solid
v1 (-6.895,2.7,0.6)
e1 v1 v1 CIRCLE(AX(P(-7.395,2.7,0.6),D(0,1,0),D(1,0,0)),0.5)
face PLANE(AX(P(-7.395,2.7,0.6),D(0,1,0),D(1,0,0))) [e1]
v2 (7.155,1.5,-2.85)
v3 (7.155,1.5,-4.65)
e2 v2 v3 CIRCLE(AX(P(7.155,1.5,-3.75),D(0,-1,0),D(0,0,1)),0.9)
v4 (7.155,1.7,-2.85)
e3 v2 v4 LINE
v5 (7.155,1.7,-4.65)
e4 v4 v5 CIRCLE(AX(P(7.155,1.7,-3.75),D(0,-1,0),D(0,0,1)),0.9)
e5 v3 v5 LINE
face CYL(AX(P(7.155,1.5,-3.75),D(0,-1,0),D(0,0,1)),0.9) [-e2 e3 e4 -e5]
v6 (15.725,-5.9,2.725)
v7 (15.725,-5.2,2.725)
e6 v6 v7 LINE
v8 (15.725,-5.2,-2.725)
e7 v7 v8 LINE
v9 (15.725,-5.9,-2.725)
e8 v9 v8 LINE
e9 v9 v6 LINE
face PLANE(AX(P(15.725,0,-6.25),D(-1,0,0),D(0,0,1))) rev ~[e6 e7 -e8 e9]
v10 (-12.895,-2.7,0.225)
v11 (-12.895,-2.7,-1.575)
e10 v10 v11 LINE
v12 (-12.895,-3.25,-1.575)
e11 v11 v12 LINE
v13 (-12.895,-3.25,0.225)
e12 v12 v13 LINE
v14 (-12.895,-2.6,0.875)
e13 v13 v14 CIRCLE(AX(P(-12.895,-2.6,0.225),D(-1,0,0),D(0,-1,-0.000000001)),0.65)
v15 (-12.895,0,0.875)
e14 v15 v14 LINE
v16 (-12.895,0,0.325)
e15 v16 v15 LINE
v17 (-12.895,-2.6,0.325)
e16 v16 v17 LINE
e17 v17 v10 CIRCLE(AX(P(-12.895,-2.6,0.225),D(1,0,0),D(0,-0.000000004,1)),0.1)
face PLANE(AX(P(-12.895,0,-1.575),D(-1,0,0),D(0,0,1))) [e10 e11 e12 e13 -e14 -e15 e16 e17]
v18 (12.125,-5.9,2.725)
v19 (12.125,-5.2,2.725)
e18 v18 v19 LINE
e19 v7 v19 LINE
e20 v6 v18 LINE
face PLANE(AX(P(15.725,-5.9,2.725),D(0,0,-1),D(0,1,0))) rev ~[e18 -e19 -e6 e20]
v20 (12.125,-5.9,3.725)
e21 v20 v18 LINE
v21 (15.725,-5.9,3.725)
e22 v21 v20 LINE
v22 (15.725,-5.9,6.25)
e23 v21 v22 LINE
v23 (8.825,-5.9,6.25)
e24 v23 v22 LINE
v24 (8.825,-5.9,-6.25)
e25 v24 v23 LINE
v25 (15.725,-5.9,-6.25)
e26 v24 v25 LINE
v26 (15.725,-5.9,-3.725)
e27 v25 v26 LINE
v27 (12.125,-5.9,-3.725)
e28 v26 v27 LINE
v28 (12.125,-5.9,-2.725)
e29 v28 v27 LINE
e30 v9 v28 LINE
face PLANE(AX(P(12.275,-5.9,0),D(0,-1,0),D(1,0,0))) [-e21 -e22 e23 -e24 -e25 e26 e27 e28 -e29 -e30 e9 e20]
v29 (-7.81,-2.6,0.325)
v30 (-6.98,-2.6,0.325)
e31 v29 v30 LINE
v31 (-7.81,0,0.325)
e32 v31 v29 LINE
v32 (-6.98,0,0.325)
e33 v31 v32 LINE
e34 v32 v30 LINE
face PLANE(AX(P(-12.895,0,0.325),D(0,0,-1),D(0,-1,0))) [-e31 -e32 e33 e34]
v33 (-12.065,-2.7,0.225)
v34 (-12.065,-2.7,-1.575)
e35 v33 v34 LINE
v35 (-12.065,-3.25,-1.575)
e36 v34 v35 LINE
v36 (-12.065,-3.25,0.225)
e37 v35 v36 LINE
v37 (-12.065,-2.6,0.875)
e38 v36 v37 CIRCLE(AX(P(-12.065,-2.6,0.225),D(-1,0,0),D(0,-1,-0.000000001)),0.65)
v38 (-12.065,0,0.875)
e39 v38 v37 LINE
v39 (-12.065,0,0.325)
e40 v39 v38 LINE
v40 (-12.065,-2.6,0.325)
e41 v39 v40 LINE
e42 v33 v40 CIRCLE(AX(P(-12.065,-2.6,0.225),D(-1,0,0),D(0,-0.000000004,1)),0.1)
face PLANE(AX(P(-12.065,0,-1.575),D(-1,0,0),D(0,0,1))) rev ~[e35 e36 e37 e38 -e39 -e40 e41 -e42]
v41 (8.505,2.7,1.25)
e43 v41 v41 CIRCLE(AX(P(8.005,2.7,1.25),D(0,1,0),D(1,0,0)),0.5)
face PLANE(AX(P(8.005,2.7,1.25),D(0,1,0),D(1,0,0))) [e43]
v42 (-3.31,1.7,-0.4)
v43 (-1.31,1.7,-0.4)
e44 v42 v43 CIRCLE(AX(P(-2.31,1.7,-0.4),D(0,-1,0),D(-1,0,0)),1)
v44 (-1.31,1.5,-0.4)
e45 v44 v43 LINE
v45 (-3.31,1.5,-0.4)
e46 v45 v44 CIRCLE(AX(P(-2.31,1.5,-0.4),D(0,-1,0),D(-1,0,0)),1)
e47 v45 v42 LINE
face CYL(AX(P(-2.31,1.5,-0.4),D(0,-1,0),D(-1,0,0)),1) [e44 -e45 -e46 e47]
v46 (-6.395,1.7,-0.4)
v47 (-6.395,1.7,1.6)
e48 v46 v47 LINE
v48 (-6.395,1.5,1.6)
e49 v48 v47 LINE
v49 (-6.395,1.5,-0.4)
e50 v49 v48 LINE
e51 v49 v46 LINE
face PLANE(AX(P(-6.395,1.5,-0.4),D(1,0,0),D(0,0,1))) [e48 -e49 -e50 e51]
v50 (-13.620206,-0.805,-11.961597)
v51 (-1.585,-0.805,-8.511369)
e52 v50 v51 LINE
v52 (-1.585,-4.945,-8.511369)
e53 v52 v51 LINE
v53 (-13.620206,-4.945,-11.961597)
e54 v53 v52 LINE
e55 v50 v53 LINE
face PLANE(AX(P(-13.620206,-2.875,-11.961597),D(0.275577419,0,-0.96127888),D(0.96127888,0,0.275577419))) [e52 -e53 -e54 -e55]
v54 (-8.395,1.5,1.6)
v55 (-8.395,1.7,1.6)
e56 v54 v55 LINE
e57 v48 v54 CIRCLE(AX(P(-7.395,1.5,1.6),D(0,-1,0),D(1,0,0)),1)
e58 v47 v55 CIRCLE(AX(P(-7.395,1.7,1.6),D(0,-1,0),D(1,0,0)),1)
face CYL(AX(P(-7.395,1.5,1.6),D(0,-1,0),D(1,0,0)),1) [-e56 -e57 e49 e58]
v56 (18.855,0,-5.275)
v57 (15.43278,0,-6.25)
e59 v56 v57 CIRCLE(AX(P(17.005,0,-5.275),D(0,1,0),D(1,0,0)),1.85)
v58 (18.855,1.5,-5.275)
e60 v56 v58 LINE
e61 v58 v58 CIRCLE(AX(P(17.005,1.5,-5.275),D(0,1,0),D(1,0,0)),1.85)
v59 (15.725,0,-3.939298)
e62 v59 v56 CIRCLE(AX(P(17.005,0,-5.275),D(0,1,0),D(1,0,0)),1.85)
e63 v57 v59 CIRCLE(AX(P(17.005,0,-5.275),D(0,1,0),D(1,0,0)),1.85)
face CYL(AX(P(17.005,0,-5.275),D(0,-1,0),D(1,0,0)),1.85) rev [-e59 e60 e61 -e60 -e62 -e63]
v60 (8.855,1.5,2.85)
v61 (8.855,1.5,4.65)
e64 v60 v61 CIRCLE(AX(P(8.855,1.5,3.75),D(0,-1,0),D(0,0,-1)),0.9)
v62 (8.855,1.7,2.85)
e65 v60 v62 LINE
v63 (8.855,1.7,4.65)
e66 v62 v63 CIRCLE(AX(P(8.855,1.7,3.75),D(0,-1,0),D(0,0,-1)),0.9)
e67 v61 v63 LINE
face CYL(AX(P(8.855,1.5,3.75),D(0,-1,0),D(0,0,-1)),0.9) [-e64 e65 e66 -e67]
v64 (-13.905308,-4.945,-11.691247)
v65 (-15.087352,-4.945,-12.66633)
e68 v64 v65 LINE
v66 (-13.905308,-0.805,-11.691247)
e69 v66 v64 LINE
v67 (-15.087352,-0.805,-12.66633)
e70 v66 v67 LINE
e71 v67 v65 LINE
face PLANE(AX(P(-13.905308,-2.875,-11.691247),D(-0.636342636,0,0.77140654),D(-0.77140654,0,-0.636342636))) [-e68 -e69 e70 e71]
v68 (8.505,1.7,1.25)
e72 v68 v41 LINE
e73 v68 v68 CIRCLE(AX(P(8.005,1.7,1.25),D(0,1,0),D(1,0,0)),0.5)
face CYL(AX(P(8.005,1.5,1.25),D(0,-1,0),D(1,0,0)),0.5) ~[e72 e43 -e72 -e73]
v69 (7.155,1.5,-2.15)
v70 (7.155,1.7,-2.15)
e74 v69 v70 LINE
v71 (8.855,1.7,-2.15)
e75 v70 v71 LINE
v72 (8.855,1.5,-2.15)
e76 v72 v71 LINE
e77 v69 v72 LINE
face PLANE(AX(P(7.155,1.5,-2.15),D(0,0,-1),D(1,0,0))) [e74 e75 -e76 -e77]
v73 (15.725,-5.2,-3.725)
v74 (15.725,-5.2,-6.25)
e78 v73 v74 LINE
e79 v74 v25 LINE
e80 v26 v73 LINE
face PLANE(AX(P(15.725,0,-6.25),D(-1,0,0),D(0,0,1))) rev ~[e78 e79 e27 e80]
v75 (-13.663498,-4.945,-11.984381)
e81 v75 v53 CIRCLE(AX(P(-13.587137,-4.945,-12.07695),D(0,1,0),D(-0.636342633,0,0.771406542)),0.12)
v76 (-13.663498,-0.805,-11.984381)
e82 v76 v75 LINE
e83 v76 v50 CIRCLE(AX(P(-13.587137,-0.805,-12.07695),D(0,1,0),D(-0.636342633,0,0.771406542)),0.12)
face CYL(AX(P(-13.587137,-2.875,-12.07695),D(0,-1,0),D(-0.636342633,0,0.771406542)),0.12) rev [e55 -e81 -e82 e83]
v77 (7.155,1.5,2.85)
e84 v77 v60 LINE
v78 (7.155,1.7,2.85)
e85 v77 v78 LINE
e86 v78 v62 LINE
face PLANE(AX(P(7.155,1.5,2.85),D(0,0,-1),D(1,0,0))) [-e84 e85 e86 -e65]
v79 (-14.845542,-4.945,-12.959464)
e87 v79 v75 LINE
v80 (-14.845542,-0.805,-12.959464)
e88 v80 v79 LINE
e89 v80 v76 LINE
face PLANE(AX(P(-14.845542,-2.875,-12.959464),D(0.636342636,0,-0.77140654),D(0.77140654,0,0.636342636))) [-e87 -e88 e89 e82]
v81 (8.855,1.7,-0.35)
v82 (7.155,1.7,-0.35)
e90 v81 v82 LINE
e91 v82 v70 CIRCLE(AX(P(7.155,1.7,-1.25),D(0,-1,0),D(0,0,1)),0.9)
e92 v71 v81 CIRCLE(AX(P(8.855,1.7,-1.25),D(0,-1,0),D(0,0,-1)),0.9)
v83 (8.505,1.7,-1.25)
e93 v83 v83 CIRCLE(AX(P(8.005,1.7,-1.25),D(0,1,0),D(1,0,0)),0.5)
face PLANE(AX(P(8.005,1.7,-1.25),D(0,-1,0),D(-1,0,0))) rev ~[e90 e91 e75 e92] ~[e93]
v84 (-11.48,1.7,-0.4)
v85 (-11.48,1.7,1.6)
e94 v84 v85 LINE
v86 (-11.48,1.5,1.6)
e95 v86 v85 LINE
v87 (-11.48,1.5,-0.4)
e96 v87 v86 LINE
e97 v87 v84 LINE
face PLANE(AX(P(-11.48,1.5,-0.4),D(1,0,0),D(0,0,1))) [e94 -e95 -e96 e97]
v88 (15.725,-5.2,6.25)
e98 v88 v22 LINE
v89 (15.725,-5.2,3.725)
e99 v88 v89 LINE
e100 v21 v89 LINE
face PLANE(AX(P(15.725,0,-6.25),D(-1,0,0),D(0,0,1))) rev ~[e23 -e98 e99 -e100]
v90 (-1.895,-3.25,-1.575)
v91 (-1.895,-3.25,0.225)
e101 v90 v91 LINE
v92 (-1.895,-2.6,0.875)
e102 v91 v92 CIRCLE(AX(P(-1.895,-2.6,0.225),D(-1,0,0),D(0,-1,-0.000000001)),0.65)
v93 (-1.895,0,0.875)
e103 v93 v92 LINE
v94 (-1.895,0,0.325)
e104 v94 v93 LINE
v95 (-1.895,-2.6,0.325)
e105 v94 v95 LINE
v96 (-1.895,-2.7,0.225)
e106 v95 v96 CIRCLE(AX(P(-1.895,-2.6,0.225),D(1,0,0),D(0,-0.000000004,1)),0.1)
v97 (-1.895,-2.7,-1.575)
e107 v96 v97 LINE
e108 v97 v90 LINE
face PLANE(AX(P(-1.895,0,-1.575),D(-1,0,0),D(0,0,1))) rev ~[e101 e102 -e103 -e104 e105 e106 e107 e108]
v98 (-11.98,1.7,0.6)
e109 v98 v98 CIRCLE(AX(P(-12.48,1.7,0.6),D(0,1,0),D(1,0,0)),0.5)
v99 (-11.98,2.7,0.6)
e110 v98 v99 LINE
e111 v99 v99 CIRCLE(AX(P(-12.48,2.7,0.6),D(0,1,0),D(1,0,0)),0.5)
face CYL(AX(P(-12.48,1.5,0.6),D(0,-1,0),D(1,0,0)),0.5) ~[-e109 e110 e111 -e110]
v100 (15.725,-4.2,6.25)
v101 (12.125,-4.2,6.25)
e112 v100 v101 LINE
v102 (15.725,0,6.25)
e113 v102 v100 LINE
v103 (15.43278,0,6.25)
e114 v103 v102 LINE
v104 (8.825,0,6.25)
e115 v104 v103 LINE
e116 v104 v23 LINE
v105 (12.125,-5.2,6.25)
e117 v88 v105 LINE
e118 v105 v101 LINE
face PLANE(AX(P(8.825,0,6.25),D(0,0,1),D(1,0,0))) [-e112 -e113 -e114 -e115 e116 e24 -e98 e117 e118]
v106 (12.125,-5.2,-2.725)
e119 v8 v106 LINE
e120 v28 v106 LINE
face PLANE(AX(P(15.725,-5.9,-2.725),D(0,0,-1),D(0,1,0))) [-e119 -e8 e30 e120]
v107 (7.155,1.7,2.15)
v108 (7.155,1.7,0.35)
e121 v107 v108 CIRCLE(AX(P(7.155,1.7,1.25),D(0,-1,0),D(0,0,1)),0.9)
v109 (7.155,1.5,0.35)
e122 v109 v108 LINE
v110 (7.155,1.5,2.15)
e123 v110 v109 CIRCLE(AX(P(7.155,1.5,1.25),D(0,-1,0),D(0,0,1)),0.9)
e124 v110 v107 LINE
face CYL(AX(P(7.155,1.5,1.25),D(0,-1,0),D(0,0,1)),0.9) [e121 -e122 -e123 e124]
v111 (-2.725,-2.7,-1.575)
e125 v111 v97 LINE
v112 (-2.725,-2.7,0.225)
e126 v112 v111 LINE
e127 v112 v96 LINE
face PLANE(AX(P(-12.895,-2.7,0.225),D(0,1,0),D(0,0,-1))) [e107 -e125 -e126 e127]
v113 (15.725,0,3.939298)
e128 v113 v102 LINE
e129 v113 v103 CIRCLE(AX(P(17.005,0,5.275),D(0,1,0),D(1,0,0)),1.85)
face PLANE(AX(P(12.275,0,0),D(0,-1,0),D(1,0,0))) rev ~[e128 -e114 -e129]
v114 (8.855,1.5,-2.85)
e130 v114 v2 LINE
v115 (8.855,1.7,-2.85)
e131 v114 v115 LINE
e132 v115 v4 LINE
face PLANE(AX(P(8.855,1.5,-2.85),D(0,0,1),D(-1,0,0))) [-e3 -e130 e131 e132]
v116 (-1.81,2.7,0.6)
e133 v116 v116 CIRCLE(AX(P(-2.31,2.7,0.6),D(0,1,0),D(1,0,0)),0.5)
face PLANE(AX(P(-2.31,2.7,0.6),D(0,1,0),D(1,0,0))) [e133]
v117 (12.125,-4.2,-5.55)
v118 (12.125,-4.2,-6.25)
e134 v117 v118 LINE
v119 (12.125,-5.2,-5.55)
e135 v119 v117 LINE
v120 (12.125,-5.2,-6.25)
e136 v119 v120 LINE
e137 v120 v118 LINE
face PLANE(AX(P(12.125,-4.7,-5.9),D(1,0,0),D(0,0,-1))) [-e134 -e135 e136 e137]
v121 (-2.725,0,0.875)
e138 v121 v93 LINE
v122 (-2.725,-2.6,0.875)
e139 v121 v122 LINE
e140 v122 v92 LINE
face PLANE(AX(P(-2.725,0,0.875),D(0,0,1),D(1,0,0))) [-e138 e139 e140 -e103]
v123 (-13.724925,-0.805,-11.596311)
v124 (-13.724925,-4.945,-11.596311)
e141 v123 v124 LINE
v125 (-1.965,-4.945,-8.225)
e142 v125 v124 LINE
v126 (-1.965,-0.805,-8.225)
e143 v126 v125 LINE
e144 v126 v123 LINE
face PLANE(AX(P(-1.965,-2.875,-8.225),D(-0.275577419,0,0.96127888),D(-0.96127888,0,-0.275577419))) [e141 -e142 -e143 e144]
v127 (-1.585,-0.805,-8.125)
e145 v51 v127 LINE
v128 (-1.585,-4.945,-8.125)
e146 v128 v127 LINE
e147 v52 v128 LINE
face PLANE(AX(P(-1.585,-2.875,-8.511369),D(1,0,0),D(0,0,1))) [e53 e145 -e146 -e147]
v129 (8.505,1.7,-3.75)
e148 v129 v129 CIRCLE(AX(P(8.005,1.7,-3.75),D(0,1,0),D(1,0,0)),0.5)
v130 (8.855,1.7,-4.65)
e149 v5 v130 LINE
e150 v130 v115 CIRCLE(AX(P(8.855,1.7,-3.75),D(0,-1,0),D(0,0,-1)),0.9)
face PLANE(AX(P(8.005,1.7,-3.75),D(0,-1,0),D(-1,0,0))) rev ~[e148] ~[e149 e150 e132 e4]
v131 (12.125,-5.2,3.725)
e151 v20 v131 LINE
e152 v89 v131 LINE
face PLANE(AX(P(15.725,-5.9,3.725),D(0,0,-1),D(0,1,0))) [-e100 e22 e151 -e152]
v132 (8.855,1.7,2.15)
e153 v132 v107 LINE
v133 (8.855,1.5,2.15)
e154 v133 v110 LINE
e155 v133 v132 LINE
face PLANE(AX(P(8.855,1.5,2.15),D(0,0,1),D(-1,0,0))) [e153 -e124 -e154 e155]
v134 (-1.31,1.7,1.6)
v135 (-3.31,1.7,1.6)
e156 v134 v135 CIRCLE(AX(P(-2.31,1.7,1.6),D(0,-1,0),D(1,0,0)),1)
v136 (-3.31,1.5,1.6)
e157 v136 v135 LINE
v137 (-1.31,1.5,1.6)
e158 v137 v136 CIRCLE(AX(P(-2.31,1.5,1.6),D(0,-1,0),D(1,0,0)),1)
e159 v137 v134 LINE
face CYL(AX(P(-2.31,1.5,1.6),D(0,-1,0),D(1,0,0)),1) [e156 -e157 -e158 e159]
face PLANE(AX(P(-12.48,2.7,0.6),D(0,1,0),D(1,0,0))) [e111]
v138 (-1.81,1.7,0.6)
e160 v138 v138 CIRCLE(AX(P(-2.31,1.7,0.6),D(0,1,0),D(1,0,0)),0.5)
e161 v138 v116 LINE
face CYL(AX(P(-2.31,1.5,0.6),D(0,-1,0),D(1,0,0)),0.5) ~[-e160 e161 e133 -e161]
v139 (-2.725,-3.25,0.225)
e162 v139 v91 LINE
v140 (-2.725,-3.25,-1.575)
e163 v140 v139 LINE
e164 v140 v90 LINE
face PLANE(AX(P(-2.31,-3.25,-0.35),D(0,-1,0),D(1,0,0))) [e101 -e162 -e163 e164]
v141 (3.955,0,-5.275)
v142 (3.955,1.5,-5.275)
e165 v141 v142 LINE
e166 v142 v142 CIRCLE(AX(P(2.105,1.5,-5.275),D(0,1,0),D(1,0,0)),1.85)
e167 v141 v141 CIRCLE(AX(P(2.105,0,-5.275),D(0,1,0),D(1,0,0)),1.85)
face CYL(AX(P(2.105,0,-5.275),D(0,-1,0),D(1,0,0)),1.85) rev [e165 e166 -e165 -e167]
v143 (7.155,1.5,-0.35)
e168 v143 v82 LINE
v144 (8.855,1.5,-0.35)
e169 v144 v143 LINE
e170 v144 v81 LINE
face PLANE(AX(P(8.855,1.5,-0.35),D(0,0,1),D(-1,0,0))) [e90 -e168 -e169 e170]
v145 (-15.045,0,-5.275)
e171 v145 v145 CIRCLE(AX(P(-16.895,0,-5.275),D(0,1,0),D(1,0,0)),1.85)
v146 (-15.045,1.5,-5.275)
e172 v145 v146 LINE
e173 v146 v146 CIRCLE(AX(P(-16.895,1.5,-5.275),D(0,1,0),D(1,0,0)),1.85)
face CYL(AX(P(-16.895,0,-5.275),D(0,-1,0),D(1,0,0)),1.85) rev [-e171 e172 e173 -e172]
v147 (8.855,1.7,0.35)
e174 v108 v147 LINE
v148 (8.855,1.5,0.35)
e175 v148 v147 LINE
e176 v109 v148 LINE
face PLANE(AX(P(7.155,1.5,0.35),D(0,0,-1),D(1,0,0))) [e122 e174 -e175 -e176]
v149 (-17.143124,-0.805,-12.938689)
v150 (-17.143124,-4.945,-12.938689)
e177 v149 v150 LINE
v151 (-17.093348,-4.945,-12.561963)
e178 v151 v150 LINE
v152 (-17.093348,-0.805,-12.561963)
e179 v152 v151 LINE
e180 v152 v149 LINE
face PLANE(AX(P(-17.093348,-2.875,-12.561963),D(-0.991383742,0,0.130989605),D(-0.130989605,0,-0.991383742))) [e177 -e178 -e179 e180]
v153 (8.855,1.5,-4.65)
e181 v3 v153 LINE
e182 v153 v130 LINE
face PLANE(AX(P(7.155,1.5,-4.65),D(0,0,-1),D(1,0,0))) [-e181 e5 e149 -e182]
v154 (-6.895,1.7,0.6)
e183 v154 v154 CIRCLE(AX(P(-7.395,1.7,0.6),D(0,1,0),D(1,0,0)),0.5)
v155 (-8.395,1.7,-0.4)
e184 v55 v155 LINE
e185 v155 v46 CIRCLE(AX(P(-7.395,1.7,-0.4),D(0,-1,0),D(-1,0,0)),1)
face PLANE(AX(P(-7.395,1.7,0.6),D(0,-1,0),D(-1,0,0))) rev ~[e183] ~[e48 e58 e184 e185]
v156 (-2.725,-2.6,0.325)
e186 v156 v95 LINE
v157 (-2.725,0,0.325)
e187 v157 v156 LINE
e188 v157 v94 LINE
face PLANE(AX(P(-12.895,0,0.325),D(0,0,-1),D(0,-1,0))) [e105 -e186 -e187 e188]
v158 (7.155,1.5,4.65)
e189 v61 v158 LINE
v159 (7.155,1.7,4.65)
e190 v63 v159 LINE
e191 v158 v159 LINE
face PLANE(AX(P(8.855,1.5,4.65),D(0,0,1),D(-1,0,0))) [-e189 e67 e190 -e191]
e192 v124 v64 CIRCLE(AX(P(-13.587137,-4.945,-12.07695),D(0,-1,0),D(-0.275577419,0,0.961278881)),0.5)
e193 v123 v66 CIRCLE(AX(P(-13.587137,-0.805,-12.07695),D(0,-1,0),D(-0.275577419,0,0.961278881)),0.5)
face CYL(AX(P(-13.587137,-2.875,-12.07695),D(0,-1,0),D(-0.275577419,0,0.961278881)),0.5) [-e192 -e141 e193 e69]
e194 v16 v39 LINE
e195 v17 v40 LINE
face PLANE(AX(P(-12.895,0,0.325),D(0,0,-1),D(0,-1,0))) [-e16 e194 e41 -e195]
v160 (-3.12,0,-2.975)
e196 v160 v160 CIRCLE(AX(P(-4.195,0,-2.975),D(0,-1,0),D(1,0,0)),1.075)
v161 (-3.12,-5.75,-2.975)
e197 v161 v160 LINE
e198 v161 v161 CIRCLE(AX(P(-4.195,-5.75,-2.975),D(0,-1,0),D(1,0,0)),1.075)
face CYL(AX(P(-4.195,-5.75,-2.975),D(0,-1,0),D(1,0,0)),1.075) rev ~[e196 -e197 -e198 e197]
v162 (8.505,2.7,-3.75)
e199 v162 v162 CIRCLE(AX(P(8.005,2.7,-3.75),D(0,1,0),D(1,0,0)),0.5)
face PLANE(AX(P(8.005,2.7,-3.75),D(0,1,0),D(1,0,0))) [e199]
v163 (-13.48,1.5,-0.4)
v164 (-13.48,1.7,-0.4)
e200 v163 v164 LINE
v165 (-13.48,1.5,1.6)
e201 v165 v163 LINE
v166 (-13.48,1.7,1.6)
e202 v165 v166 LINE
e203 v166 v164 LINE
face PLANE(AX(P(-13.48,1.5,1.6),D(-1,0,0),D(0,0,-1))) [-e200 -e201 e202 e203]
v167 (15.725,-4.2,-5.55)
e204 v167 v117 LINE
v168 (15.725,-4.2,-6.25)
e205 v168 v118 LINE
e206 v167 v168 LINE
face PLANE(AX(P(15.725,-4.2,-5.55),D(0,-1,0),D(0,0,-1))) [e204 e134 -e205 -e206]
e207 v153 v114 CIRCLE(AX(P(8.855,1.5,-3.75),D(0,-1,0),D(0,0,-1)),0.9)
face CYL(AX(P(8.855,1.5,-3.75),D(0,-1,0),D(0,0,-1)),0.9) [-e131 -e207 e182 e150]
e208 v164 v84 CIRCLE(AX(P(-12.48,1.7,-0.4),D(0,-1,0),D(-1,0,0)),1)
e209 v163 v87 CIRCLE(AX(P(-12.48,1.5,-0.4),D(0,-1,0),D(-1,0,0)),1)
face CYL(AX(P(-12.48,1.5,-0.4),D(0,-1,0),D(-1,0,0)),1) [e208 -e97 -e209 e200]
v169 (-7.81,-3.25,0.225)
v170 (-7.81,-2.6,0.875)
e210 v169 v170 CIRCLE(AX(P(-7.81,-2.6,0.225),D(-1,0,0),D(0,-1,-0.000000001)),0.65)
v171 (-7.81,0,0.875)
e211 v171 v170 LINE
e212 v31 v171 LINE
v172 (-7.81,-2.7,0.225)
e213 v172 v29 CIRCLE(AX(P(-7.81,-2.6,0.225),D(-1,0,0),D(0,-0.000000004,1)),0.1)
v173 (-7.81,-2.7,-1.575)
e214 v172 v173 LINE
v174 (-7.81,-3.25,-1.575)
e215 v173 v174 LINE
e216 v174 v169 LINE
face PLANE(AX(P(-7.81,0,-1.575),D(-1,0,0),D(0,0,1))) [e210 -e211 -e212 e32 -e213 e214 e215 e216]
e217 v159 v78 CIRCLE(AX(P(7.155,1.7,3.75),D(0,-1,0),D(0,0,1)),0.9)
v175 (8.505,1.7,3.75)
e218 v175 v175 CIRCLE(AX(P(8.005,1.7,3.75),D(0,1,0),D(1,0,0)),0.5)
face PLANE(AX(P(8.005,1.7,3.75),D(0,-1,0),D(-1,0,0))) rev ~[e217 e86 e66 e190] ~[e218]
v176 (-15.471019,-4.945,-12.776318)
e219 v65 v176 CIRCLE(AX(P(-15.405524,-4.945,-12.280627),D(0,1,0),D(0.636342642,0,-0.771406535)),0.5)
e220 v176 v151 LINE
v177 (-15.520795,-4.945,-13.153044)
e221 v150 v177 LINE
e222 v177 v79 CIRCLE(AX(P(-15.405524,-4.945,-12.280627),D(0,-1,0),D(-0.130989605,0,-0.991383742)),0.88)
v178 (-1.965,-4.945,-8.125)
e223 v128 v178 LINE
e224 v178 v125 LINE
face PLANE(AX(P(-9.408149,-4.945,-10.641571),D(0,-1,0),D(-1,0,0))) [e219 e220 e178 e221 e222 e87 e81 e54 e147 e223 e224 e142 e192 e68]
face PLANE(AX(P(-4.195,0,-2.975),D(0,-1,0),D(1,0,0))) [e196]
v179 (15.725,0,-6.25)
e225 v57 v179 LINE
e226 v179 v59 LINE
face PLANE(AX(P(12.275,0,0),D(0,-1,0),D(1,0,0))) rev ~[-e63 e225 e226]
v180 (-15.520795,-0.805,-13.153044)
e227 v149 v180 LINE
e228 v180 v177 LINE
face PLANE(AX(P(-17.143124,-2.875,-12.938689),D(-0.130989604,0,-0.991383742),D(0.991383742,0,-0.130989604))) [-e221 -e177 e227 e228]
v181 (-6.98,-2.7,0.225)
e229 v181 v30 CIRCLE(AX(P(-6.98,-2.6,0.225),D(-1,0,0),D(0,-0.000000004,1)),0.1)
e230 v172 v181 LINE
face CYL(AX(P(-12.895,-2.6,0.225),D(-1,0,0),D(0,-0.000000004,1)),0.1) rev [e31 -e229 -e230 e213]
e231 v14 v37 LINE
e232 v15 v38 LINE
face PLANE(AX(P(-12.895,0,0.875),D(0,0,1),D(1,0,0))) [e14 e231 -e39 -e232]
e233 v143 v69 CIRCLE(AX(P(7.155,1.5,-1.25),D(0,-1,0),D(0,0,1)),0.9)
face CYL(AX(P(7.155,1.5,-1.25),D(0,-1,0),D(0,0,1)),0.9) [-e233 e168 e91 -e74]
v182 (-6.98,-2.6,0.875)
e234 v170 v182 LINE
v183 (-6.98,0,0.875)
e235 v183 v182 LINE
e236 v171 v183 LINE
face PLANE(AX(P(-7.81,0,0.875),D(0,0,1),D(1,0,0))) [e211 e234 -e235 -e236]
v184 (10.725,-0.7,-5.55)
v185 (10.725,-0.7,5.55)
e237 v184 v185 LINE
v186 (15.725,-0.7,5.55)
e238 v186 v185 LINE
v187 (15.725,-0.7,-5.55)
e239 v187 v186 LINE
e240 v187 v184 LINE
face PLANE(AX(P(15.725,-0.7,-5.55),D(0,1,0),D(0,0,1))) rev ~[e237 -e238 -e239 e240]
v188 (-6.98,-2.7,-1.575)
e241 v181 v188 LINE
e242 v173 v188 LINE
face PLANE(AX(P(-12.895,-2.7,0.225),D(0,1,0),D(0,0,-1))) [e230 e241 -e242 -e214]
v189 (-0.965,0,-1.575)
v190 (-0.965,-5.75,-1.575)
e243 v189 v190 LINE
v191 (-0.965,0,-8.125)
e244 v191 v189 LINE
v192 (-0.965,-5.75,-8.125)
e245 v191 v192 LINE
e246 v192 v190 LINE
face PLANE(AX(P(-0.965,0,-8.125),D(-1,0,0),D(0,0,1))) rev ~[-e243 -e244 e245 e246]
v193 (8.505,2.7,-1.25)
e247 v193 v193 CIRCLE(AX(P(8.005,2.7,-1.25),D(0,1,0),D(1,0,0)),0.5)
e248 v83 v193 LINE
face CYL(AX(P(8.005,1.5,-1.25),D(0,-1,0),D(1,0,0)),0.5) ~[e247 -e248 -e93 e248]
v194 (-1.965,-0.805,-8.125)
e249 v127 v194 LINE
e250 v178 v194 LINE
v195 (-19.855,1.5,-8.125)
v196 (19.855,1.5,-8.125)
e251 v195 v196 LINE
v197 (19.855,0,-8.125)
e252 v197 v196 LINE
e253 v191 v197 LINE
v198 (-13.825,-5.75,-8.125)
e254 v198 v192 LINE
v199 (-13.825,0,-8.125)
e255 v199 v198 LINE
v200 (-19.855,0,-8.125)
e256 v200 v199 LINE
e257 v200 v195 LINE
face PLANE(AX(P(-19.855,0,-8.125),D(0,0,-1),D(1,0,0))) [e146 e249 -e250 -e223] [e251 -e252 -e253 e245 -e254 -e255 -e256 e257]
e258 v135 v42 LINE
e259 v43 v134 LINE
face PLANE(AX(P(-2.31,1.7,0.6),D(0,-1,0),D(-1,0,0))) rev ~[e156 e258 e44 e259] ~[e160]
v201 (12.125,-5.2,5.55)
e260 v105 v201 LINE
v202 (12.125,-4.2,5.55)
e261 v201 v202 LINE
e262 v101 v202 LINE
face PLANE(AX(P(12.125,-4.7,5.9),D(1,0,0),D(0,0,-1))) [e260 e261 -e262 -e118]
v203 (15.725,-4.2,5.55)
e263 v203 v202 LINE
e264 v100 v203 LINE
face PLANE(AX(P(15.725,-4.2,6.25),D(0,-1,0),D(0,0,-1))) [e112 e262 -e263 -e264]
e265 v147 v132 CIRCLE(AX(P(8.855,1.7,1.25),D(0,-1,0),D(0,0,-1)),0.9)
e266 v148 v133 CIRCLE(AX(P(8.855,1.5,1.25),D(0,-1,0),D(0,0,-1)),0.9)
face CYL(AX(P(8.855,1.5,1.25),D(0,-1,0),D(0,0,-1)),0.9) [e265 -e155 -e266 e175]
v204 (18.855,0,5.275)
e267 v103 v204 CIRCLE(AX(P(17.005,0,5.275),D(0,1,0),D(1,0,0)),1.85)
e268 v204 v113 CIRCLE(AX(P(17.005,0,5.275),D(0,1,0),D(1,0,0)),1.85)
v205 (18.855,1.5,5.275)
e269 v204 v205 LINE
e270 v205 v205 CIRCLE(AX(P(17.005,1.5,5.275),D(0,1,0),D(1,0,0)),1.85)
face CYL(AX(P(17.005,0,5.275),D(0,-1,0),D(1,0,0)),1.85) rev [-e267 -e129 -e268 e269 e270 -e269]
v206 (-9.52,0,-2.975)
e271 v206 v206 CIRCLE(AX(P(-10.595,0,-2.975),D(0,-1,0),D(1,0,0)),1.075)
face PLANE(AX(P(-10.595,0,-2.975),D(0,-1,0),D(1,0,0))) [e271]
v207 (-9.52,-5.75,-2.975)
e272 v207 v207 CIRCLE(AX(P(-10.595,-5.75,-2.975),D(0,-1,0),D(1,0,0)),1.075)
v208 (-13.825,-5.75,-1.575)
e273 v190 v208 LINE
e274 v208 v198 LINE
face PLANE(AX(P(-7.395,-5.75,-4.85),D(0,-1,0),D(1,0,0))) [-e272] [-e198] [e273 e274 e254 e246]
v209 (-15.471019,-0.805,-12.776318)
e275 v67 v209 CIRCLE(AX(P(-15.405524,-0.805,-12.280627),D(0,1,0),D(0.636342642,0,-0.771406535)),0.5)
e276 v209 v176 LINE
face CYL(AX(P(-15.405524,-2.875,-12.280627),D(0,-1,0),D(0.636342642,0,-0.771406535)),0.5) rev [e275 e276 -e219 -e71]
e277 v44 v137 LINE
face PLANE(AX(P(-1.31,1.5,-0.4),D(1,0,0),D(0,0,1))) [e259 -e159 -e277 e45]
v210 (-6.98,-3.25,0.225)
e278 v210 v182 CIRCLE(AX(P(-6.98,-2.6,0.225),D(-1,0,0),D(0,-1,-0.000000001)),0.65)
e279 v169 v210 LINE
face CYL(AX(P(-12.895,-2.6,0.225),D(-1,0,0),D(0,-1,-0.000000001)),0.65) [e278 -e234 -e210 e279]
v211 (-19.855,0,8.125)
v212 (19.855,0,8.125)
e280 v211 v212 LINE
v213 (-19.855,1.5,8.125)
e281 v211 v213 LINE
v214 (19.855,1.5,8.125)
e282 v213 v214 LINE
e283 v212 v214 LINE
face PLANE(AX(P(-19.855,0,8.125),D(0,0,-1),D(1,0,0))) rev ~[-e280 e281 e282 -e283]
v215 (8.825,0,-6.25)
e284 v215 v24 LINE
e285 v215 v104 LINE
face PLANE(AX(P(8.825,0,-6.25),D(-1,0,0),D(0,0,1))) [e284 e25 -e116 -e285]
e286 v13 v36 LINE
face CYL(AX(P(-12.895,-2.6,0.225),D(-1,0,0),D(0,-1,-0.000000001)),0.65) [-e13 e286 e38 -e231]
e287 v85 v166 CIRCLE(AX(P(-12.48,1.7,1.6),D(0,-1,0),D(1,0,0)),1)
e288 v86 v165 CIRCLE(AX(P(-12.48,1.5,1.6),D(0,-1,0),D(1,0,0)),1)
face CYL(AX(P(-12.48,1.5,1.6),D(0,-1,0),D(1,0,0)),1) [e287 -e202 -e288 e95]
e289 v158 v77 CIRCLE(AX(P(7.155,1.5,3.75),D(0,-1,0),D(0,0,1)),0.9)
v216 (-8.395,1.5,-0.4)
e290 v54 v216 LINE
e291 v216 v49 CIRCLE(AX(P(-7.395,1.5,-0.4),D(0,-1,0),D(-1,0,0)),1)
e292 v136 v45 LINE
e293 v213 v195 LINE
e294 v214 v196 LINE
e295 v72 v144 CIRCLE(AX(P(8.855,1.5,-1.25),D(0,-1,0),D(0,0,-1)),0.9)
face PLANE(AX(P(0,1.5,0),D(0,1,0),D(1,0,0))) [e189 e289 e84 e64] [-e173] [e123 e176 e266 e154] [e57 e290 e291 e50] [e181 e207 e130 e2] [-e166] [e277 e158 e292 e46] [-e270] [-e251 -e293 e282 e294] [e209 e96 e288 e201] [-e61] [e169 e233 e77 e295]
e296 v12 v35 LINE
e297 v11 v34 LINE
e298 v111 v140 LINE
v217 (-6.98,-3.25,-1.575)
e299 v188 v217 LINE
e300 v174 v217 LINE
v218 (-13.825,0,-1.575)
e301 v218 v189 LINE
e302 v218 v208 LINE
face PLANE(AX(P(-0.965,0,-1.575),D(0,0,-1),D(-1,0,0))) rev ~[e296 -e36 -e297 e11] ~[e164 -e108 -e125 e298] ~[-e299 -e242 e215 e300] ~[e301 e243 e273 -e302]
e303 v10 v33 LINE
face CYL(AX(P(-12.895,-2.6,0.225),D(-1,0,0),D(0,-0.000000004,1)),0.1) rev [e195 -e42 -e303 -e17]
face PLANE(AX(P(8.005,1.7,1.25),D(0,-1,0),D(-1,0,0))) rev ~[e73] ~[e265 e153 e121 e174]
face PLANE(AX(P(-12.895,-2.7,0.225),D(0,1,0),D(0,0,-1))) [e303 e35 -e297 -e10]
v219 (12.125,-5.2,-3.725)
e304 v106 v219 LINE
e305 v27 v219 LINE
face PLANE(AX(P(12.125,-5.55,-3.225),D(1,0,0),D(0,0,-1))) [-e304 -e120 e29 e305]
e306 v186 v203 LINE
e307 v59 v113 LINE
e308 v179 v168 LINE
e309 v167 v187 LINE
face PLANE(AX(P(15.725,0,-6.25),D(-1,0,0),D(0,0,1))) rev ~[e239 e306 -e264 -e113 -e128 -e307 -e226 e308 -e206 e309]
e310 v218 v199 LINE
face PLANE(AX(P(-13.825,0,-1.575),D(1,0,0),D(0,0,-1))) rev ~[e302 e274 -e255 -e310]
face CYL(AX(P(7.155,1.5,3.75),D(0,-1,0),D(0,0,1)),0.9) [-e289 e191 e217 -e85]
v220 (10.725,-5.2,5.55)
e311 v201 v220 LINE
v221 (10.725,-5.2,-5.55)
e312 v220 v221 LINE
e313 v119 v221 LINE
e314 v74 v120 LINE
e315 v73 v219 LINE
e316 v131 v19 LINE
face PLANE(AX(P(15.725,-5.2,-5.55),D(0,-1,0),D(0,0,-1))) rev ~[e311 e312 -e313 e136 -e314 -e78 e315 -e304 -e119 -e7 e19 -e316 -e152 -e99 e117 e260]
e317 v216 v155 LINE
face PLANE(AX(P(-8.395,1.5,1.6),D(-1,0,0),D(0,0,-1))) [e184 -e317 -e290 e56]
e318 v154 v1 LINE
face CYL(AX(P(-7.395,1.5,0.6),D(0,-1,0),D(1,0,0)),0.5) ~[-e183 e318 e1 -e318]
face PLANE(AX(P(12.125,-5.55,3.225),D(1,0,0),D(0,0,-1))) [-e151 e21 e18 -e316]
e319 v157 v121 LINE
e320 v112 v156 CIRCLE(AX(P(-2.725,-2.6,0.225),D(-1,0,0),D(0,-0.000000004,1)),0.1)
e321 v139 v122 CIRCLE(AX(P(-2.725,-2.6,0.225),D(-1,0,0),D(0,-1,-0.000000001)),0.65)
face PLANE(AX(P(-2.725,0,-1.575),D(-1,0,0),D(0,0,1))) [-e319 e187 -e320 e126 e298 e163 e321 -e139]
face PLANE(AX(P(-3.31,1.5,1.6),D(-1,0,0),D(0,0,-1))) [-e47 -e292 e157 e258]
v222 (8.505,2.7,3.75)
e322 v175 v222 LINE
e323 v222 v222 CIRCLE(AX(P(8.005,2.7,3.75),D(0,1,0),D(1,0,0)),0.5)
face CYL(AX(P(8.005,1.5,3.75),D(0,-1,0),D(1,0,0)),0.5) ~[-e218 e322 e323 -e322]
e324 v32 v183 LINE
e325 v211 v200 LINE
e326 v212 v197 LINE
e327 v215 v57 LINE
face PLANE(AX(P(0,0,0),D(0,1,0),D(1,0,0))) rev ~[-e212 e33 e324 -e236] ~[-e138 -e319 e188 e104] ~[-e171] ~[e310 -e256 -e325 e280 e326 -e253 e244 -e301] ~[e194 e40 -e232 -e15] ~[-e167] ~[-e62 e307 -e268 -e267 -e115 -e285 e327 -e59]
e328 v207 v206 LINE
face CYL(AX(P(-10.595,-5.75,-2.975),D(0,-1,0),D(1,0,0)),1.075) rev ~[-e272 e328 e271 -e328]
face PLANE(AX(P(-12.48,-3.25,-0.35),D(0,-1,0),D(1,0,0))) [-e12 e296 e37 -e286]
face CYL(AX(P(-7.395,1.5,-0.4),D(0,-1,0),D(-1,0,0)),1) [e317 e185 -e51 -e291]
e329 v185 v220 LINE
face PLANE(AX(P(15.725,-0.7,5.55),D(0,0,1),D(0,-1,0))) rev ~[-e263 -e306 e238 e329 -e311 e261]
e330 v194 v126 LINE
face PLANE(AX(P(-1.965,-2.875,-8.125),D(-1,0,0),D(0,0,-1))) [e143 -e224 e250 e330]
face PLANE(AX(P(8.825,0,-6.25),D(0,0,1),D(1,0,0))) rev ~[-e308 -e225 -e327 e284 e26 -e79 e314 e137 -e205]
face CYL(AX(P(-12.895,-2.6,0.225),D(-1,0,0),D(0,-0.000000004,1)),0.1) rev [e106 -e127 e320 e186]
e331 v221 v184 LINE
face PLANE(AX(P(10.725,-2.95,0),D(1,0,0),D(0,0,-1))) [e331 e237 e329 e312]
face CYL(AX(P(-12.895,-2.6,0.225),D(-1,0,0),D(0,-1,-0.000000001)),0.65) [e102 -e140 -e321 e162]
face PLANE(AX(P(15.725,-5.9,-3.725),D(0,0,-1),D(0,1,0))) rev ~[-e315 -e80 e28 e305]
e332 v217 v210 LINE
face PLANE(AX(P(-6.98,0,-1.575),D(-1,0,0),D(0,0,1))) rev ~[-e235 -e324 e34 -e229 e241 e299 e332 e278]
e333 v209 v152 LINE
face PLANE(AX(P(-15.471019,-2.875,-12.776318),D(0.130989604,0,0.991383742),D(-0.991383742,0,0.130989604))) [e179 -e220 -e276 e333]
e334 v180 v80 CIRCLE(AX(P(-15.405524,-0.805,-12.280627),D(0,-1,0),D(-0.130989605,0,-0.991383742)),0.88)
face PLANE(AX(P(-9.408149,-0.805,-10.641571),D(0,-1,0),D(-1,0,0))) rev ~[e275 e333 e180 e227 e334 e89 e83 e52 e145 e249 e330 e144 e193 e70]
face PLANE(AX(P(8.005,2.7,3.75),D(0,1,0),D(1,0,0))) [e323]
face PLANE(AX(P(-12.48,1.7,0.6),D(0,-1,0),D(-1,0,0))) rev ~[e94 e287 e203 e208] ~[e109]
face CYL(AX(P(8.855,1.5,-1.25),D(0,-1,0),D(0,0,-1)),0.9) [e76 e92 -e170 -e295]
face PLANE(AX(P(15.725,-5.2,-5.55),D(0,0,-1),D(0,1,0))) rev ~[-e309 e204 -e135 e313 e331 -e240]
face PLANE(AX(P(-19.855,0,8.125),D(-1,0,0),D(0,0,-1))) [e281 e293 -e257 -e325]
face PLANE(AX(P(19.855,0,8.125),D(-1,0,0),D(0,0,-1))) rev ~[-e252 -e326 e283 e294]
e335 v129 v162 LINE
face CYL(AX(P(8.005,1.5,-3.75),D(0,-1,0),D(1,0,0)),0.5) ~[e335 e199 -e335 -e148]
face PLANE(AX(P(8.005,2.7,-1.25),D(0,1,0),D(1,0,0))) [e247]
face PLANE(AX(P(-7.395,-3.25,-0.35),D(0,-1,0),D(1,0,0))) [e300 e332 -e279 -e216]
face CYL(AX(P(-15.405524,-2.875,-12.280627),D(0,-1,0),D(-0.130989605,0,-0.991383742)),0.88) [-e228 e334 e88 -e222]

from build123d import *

# Parameters (mm, degrees)
SKETCH1_W           = 39.71
SKETCH1_H           = 16.25
SKETCH1_R           = 1.85
BOSS_EXTRUDE1_DEPTH = 1.5
SKETCH2_W           = 6.9
SKETCH2_H           = 12.5
BOSS_EXTRUDE2_DEPTH = 5.9
CUT_EXTRUDE1_DEPTH  = 5
SKETCH3_3_W         = 0.7
SKETCH3_3_H         = 1
SKETCH3_3_W_2       = 1
SKETCH3_3_H_2       = 0.7
CUT_EXTRUDE2_DEPTH  = 3.6
BOSS_EXTRUDE3_DEPTH = 5.75
SKETCH6_R           = 1.075
CUT_EXTRUDE3_DEPTH  = 5.75
SKETCH4_3_W         = 0.83
SKETCH4_3_H         = 2.45
BOSS_EXTRUDE4_DEPTH = 3.25
CUT_EXTRUDE4_DEPTH  = 11
BOSS_EXTRUDE5_DEPTH = 2.07
SKETCH11_R          = 0.5
BOSS_EXTRUDE6_DEPTH = 1.2
SKETCH11_3_R        = 0.5
BOSS_EXTRUDE7_DEPTH = 0.2


with BuildPart() as part:
    # Sketch1 → Boss-Extrude1 (new body)
    with BuildSketch(Plane(origin=(0, 0, 0), x_dir=(1, 0, 0), z_dir=(0, 1, 0))):
        Rectangle(SKETCH1_W, SKETCH1_H)
        with Locations((17.005, 5.275)):
            Circle(SKETCH1_R, mode=Mode.SUBTRACT)
        with Locations((17.005, -5.275)):
            Circle(SKETCH1_R, mode=Mode.SUBTRACT)
        with Locations((2.105, 5.275)):
            Circle(SKETCH1_R, mode=Mode.SUBTRACT)
        with Locations((-16.895, 5.275)):
            Circle(SKETCH1_R, mode=Mode.SUBTRACT)
    extrude(amount=BOSS_EXTRUDE1_DEPTH)

    # Sketch2 → Boss-Extrude2 (add)
    with BuildSketch(Plane.XZ):
        with Locations((12.275, 0)):
            Rectangle(SKETCH2_W, SKETCH2_H)
    extrude(amount=BOSS_EXTRUDE2_DEPTH)

    # Sketch3 → Cut-Extrude1 (cut)
    with BuildSketch(Plane(origin=(15.725, 0, 0), x_dir=(0, 0, -1), z_dir=(1, 0, 0))):
        Polygon((5.55, -0.7), (3.939297937, -0.7), (-3.939297937, -0.7), (-5.55, -0.7), (-5.55, -5.2), (5.55, -5.2), align=None)
    extrude(amount=-CUT_EXTRUDE1_DEPTH, mode=Mode.SUBTRACT)

    # Sketch3<3> → Cut-Extrude2 (cut)
    with BuildSketch(Plane(origin=(15.725, 0, 0), x_dir=(0, 0, -1), z_dir=(1, 0, 0))):
        with Locations((-5.9, -4.7)):
            Rectangle(SKETCH3_3_W, SKETCH3_3_H)
        with Locations((-3.225, -5.55)):
            Rectangle(SKETCH3_3_W_2, SKETCH3_3_H_2)
        with Locations((3.225, -5.55)):
            Rectangle(SKETCH3_3_W_2, SKETCH3_3_H_2)
        with Locations((5.9, -4.7)):
            Rectangle(SKETCH3_3_W, SKETCH3_3_H)
    extrude(amount=-CUT_EXTRUDE2_DEPTH, mode=Mode.SUBTRACT)

    # Sketch4 → Boss-Extrude3 (add)
    with BuildSketch(Plane.XZ):
        Polygon((-12.895, -1.575), (-13.825, -1.575), (-13.825, -8.125), (-0.965, -8.125), (-0.965, -1.575), (-1.895, -1.575), (-2.725, -1.575), (-6.98, -1.575), (-7.81, -1.575), (-12.065, -1.575), align=None)
    extrude(amount=BOSS_EXTRUDE3_DEPTH)

    # Sketch6 → Cut-Extrude3 (cut)
    with BuildSketch(Plane.XZ.offset(5.75)):
        with Locations((-10.595, -2.975)):
            Circle(SKETCH6_R)
        with Locations((-4.195, -2.975)):
            Circle(SKETCH6_R)
    extrude(amount=-CUT_EXTRUDE3_DEPTH, mode=Mode.SUBTRACT)

    # Sketch4<3> → Boss-Extrude4 (add)
    with BuildSketch(Plane.XZ):
        with Locations((-12.48, -0.35)):
            Rectangle(SKETCH4_3_W, SKETCH4_3_H)
        with Locations((-7.395, -0.35)):
            Rectangle(SKETCH4_3_W, SKETCH4_3_H)
        with Locations((-2.31, -0.35)):
            Rectangle(SKETCH4_3_W, SKETCH4_3_H)
    extrude(amount=BOSS_EXTRUDE4_DEPTH)

    # Sketch9 → Cut-Extrude4 (cut)
    with BuildSketch(Plane.ZY.offset(12.895)):
        with BuildLine():
            Line((-1.575, 0), (0.325, 0))
            Line((0.325, 0), (0.325, -2.6))
            ThreePointArc((0.325, -2.6), (0.295710678, -2.670710678), (0.225, -2.7))
            Line((0.225, -2.7), (-1.575, -2.7))
            Line((-1.575, -2.7), (-1.575, 0))
        make_face()
        with BuildLine():
            Line((0.875, -2.6), (0.875, -3.25))
            Line((0.875, -3.25), (0.225, -3.25))
            ThreePointArc((0.225, -3.25), (0.684619408, -3.059619408), (0.875, -2.6))
        make_face()
    extrude(amount=-CUT_EXTRUDE4_DEPTH, mode=Mode.SUBTRACT)

    # Sketch10 → Boss-Extrude5 (add, symmetric)
    with BuildSketch(Plane(origin=(0, -2.875, 0), x_dir=(-1, 0, 0), z_dir=(0, -1, 0))):
        with BuildLine():
            Line((1.965, 8.125), (1.965, 8.225))
            Line((1.965, 8.225), (13.72492529, 11.596310791))
            ThreePointArc((13.72492529, 11.596310791), (13.820005869, 11.634489053), (13.905307898, 11.691246962))
            Line((13.905307898, 11.691246962), (15.087352442, 12.666329881))
            ThreePointArc((15.087352442, 12.666329881), (15.26773505, 12.761266052), (15.471018562, 12.776318482))
            Line((15.471018562, 12.776318482), (17.093348193, 12.561963226))
            Line((17.093348193, 12.561963226), (17.143124243, 12.938689048))
            Line((17.143124243, 12.938689048), (15.520794612, 13.153044304))
            ThreePointArc((15.520794612, 13.153044304), (15.163015631, 13.126552026), (14.84554224, 12.959464366))
            Line((14.84554224, 12.959464366), (13.663497696, 11.984381447))
            ThreePointArc((13.663497696, 11.984381447), (13.643025209, 11.970759549), (13.62020587, 11.961596766))
            Line((13.62020587, 11.961596766), (1.585, 8.511369113))
            Line((1.585, 8.511369113), (1.585, 8.125))
            Line((1.585, 8.125), (1.965, 8.125))
        make_face()
    extrude(amount=BOSS_EXTRUDE5_DEPTH, both=True)

    # Sketch11 → Boss-Extrude6 (add)
    with BuildSketch(Plane(origin=(0, 1.5, 0), x_dir=(1, 0, 0), z_dir=(0, 1, 0))):
        with Locations((-12.48, -0.6)):
            Circle(SKETCH11_R)
        with Locations((-7.395, -0.6)):
            Circle(SKETCH11_R)
        with Locations((-2.31, -0.6)):
            Circle(SKETCH11_R)
        with Locations((8.005, 3.75)):
            Circle(SKETCH11_R)
        with Locations((8.005, 1.25)):
            Circle(SKETCH11_R)
        with Locations((8.005, -1.25)):
            Circle(SKETCH11_R)
        with Locations((8.005, -3.75)):
            Circle(SKETCH11_R)
    extrude(amount=BOSS_EXTRUDE6_DEPTH)

    # Sketch11<3> → Boss-Extrude7 (add)
    with BuildSketch(Plane(origin=(0, 1.5, 0), x_dir=(1, 0, 0), z_dir=(0, 1, 0))):
        with BuildLine():
            Line((-13.48, -1.6), (-13.48, 0.4))
            ThreePointArc((-13.48, 0.4), (-12.48, 1.4), (-11.48, 0.4))
            Line((-11.48, 0.4), (-11.48, -1.6))
            ThreePointArc((-11.48, -1.6), (-12.48, -2.6), (-13.48, -1.6))
        make_face()
        with Locations((-12.48, -0.6)):
            Circle(SKETCH11_3_R, mode=Mode.SUBTRACT)
        with BuildLine():
            Line((-8.395, -1.6), (-8.395, 0.4))
            ThreePointArc((-8.395, 0.4), (-7.395, 1.4), (-6.395, 0.4))
            Line((-6.395, 0.4), (-6.395, -1.6))
            ThreePointArc((-6.395, -1.6), (-7.395, -2.6), (-8.395, -1.6))
        make_face()
        with Locations((-7.395, -0.6)):
            Circle(SKETCH11_3_R, mode=Mode.SUBTRACT)
        with BuildLine():
            Line((-3.31, -1.6), (-3.31, 0.4))
            ThreePointArc((-3.31, 0.4), (-2.31, 1.4), (-1.31, 0.4))
            Line((-1.31, 0.4), (-1.31, -1.6))
            ThreePointArc((-1.31, -1.6), (-2.31, -2.6), (-3.31, -1.6))
        make_face()
        with Locations((-2.31, -0.6)):
            Circle(SKETCH11_3_R, mode=Mode.SUBTRACT)
        with BuildLine():
            Line((7.155, 4.65), (8.855, 4.65))
            ThreePointArc((8.855, 4.65), (9.755, 3.75), (8.855, 2.85))
            Line((8.855, 2.85), (7.155, 2.85))
            ThreePointArc((7.155, 2.85), (6.255, 3.75), (7.155, 4.65))
        make_face()
        with Locations((8.005, 3.75)):
            Circle(SKETCH11_3_R, mode=Mode.SUBTRACT)
        with BuildLine():
            Line((7.155, 2.15), (8.855, 2.15))
            ThreePointArc((8.855, 2.15), (9.755, 1.25), (8.855, 0.35))
            Line((8.855, 0.35), (7.155, 0.35))
            ThreePointArc((7.155, 0.35), (6.255, 1.25), (7.155, 2.15))
        make_face()
        with Locations((8.005, 1.25)):
            Circle(SKETCH11_3_R, mode=Mode.SUBTRACT)
        with BuildLine():
            Line((7.155, -0.35), (8.855, -0.35))
            ThreePointArc((8.855, -0.35), (9.755, -1.25), (8.855, -2.15))
            Line((8.855, -2.15), (7.155, -2.15))
            ThreePointArc((7.155, -2.15), (6.255, -1.25), (7.155, -0.35))
        make_face()
        with Locations((8.005, -1.25)):
            Circle(SKETCH11_3_R, mode=Mode.SUBTRACT)
        with BuildLine():
            Line((7.155, -2.85), (8.855, -2.85))
            ThreePointArc((8.855, -2.85), (9.755, -3.75), (8.855, -4.65))
            Line((8.855, -4.65), (7.155, -4.65))
            ThreePointArc((7.155, -4.65), (6.255, -3.75), (7.155, -2.85))
        make_face()
        with Locations((8.005, -3.75)):
            Circle(SKETCH11_3_R, mode=Mode.SUBTRACT)
    extrude(amount=BOSS_EXTRUDE7_DEPTH)


solid = part.part
